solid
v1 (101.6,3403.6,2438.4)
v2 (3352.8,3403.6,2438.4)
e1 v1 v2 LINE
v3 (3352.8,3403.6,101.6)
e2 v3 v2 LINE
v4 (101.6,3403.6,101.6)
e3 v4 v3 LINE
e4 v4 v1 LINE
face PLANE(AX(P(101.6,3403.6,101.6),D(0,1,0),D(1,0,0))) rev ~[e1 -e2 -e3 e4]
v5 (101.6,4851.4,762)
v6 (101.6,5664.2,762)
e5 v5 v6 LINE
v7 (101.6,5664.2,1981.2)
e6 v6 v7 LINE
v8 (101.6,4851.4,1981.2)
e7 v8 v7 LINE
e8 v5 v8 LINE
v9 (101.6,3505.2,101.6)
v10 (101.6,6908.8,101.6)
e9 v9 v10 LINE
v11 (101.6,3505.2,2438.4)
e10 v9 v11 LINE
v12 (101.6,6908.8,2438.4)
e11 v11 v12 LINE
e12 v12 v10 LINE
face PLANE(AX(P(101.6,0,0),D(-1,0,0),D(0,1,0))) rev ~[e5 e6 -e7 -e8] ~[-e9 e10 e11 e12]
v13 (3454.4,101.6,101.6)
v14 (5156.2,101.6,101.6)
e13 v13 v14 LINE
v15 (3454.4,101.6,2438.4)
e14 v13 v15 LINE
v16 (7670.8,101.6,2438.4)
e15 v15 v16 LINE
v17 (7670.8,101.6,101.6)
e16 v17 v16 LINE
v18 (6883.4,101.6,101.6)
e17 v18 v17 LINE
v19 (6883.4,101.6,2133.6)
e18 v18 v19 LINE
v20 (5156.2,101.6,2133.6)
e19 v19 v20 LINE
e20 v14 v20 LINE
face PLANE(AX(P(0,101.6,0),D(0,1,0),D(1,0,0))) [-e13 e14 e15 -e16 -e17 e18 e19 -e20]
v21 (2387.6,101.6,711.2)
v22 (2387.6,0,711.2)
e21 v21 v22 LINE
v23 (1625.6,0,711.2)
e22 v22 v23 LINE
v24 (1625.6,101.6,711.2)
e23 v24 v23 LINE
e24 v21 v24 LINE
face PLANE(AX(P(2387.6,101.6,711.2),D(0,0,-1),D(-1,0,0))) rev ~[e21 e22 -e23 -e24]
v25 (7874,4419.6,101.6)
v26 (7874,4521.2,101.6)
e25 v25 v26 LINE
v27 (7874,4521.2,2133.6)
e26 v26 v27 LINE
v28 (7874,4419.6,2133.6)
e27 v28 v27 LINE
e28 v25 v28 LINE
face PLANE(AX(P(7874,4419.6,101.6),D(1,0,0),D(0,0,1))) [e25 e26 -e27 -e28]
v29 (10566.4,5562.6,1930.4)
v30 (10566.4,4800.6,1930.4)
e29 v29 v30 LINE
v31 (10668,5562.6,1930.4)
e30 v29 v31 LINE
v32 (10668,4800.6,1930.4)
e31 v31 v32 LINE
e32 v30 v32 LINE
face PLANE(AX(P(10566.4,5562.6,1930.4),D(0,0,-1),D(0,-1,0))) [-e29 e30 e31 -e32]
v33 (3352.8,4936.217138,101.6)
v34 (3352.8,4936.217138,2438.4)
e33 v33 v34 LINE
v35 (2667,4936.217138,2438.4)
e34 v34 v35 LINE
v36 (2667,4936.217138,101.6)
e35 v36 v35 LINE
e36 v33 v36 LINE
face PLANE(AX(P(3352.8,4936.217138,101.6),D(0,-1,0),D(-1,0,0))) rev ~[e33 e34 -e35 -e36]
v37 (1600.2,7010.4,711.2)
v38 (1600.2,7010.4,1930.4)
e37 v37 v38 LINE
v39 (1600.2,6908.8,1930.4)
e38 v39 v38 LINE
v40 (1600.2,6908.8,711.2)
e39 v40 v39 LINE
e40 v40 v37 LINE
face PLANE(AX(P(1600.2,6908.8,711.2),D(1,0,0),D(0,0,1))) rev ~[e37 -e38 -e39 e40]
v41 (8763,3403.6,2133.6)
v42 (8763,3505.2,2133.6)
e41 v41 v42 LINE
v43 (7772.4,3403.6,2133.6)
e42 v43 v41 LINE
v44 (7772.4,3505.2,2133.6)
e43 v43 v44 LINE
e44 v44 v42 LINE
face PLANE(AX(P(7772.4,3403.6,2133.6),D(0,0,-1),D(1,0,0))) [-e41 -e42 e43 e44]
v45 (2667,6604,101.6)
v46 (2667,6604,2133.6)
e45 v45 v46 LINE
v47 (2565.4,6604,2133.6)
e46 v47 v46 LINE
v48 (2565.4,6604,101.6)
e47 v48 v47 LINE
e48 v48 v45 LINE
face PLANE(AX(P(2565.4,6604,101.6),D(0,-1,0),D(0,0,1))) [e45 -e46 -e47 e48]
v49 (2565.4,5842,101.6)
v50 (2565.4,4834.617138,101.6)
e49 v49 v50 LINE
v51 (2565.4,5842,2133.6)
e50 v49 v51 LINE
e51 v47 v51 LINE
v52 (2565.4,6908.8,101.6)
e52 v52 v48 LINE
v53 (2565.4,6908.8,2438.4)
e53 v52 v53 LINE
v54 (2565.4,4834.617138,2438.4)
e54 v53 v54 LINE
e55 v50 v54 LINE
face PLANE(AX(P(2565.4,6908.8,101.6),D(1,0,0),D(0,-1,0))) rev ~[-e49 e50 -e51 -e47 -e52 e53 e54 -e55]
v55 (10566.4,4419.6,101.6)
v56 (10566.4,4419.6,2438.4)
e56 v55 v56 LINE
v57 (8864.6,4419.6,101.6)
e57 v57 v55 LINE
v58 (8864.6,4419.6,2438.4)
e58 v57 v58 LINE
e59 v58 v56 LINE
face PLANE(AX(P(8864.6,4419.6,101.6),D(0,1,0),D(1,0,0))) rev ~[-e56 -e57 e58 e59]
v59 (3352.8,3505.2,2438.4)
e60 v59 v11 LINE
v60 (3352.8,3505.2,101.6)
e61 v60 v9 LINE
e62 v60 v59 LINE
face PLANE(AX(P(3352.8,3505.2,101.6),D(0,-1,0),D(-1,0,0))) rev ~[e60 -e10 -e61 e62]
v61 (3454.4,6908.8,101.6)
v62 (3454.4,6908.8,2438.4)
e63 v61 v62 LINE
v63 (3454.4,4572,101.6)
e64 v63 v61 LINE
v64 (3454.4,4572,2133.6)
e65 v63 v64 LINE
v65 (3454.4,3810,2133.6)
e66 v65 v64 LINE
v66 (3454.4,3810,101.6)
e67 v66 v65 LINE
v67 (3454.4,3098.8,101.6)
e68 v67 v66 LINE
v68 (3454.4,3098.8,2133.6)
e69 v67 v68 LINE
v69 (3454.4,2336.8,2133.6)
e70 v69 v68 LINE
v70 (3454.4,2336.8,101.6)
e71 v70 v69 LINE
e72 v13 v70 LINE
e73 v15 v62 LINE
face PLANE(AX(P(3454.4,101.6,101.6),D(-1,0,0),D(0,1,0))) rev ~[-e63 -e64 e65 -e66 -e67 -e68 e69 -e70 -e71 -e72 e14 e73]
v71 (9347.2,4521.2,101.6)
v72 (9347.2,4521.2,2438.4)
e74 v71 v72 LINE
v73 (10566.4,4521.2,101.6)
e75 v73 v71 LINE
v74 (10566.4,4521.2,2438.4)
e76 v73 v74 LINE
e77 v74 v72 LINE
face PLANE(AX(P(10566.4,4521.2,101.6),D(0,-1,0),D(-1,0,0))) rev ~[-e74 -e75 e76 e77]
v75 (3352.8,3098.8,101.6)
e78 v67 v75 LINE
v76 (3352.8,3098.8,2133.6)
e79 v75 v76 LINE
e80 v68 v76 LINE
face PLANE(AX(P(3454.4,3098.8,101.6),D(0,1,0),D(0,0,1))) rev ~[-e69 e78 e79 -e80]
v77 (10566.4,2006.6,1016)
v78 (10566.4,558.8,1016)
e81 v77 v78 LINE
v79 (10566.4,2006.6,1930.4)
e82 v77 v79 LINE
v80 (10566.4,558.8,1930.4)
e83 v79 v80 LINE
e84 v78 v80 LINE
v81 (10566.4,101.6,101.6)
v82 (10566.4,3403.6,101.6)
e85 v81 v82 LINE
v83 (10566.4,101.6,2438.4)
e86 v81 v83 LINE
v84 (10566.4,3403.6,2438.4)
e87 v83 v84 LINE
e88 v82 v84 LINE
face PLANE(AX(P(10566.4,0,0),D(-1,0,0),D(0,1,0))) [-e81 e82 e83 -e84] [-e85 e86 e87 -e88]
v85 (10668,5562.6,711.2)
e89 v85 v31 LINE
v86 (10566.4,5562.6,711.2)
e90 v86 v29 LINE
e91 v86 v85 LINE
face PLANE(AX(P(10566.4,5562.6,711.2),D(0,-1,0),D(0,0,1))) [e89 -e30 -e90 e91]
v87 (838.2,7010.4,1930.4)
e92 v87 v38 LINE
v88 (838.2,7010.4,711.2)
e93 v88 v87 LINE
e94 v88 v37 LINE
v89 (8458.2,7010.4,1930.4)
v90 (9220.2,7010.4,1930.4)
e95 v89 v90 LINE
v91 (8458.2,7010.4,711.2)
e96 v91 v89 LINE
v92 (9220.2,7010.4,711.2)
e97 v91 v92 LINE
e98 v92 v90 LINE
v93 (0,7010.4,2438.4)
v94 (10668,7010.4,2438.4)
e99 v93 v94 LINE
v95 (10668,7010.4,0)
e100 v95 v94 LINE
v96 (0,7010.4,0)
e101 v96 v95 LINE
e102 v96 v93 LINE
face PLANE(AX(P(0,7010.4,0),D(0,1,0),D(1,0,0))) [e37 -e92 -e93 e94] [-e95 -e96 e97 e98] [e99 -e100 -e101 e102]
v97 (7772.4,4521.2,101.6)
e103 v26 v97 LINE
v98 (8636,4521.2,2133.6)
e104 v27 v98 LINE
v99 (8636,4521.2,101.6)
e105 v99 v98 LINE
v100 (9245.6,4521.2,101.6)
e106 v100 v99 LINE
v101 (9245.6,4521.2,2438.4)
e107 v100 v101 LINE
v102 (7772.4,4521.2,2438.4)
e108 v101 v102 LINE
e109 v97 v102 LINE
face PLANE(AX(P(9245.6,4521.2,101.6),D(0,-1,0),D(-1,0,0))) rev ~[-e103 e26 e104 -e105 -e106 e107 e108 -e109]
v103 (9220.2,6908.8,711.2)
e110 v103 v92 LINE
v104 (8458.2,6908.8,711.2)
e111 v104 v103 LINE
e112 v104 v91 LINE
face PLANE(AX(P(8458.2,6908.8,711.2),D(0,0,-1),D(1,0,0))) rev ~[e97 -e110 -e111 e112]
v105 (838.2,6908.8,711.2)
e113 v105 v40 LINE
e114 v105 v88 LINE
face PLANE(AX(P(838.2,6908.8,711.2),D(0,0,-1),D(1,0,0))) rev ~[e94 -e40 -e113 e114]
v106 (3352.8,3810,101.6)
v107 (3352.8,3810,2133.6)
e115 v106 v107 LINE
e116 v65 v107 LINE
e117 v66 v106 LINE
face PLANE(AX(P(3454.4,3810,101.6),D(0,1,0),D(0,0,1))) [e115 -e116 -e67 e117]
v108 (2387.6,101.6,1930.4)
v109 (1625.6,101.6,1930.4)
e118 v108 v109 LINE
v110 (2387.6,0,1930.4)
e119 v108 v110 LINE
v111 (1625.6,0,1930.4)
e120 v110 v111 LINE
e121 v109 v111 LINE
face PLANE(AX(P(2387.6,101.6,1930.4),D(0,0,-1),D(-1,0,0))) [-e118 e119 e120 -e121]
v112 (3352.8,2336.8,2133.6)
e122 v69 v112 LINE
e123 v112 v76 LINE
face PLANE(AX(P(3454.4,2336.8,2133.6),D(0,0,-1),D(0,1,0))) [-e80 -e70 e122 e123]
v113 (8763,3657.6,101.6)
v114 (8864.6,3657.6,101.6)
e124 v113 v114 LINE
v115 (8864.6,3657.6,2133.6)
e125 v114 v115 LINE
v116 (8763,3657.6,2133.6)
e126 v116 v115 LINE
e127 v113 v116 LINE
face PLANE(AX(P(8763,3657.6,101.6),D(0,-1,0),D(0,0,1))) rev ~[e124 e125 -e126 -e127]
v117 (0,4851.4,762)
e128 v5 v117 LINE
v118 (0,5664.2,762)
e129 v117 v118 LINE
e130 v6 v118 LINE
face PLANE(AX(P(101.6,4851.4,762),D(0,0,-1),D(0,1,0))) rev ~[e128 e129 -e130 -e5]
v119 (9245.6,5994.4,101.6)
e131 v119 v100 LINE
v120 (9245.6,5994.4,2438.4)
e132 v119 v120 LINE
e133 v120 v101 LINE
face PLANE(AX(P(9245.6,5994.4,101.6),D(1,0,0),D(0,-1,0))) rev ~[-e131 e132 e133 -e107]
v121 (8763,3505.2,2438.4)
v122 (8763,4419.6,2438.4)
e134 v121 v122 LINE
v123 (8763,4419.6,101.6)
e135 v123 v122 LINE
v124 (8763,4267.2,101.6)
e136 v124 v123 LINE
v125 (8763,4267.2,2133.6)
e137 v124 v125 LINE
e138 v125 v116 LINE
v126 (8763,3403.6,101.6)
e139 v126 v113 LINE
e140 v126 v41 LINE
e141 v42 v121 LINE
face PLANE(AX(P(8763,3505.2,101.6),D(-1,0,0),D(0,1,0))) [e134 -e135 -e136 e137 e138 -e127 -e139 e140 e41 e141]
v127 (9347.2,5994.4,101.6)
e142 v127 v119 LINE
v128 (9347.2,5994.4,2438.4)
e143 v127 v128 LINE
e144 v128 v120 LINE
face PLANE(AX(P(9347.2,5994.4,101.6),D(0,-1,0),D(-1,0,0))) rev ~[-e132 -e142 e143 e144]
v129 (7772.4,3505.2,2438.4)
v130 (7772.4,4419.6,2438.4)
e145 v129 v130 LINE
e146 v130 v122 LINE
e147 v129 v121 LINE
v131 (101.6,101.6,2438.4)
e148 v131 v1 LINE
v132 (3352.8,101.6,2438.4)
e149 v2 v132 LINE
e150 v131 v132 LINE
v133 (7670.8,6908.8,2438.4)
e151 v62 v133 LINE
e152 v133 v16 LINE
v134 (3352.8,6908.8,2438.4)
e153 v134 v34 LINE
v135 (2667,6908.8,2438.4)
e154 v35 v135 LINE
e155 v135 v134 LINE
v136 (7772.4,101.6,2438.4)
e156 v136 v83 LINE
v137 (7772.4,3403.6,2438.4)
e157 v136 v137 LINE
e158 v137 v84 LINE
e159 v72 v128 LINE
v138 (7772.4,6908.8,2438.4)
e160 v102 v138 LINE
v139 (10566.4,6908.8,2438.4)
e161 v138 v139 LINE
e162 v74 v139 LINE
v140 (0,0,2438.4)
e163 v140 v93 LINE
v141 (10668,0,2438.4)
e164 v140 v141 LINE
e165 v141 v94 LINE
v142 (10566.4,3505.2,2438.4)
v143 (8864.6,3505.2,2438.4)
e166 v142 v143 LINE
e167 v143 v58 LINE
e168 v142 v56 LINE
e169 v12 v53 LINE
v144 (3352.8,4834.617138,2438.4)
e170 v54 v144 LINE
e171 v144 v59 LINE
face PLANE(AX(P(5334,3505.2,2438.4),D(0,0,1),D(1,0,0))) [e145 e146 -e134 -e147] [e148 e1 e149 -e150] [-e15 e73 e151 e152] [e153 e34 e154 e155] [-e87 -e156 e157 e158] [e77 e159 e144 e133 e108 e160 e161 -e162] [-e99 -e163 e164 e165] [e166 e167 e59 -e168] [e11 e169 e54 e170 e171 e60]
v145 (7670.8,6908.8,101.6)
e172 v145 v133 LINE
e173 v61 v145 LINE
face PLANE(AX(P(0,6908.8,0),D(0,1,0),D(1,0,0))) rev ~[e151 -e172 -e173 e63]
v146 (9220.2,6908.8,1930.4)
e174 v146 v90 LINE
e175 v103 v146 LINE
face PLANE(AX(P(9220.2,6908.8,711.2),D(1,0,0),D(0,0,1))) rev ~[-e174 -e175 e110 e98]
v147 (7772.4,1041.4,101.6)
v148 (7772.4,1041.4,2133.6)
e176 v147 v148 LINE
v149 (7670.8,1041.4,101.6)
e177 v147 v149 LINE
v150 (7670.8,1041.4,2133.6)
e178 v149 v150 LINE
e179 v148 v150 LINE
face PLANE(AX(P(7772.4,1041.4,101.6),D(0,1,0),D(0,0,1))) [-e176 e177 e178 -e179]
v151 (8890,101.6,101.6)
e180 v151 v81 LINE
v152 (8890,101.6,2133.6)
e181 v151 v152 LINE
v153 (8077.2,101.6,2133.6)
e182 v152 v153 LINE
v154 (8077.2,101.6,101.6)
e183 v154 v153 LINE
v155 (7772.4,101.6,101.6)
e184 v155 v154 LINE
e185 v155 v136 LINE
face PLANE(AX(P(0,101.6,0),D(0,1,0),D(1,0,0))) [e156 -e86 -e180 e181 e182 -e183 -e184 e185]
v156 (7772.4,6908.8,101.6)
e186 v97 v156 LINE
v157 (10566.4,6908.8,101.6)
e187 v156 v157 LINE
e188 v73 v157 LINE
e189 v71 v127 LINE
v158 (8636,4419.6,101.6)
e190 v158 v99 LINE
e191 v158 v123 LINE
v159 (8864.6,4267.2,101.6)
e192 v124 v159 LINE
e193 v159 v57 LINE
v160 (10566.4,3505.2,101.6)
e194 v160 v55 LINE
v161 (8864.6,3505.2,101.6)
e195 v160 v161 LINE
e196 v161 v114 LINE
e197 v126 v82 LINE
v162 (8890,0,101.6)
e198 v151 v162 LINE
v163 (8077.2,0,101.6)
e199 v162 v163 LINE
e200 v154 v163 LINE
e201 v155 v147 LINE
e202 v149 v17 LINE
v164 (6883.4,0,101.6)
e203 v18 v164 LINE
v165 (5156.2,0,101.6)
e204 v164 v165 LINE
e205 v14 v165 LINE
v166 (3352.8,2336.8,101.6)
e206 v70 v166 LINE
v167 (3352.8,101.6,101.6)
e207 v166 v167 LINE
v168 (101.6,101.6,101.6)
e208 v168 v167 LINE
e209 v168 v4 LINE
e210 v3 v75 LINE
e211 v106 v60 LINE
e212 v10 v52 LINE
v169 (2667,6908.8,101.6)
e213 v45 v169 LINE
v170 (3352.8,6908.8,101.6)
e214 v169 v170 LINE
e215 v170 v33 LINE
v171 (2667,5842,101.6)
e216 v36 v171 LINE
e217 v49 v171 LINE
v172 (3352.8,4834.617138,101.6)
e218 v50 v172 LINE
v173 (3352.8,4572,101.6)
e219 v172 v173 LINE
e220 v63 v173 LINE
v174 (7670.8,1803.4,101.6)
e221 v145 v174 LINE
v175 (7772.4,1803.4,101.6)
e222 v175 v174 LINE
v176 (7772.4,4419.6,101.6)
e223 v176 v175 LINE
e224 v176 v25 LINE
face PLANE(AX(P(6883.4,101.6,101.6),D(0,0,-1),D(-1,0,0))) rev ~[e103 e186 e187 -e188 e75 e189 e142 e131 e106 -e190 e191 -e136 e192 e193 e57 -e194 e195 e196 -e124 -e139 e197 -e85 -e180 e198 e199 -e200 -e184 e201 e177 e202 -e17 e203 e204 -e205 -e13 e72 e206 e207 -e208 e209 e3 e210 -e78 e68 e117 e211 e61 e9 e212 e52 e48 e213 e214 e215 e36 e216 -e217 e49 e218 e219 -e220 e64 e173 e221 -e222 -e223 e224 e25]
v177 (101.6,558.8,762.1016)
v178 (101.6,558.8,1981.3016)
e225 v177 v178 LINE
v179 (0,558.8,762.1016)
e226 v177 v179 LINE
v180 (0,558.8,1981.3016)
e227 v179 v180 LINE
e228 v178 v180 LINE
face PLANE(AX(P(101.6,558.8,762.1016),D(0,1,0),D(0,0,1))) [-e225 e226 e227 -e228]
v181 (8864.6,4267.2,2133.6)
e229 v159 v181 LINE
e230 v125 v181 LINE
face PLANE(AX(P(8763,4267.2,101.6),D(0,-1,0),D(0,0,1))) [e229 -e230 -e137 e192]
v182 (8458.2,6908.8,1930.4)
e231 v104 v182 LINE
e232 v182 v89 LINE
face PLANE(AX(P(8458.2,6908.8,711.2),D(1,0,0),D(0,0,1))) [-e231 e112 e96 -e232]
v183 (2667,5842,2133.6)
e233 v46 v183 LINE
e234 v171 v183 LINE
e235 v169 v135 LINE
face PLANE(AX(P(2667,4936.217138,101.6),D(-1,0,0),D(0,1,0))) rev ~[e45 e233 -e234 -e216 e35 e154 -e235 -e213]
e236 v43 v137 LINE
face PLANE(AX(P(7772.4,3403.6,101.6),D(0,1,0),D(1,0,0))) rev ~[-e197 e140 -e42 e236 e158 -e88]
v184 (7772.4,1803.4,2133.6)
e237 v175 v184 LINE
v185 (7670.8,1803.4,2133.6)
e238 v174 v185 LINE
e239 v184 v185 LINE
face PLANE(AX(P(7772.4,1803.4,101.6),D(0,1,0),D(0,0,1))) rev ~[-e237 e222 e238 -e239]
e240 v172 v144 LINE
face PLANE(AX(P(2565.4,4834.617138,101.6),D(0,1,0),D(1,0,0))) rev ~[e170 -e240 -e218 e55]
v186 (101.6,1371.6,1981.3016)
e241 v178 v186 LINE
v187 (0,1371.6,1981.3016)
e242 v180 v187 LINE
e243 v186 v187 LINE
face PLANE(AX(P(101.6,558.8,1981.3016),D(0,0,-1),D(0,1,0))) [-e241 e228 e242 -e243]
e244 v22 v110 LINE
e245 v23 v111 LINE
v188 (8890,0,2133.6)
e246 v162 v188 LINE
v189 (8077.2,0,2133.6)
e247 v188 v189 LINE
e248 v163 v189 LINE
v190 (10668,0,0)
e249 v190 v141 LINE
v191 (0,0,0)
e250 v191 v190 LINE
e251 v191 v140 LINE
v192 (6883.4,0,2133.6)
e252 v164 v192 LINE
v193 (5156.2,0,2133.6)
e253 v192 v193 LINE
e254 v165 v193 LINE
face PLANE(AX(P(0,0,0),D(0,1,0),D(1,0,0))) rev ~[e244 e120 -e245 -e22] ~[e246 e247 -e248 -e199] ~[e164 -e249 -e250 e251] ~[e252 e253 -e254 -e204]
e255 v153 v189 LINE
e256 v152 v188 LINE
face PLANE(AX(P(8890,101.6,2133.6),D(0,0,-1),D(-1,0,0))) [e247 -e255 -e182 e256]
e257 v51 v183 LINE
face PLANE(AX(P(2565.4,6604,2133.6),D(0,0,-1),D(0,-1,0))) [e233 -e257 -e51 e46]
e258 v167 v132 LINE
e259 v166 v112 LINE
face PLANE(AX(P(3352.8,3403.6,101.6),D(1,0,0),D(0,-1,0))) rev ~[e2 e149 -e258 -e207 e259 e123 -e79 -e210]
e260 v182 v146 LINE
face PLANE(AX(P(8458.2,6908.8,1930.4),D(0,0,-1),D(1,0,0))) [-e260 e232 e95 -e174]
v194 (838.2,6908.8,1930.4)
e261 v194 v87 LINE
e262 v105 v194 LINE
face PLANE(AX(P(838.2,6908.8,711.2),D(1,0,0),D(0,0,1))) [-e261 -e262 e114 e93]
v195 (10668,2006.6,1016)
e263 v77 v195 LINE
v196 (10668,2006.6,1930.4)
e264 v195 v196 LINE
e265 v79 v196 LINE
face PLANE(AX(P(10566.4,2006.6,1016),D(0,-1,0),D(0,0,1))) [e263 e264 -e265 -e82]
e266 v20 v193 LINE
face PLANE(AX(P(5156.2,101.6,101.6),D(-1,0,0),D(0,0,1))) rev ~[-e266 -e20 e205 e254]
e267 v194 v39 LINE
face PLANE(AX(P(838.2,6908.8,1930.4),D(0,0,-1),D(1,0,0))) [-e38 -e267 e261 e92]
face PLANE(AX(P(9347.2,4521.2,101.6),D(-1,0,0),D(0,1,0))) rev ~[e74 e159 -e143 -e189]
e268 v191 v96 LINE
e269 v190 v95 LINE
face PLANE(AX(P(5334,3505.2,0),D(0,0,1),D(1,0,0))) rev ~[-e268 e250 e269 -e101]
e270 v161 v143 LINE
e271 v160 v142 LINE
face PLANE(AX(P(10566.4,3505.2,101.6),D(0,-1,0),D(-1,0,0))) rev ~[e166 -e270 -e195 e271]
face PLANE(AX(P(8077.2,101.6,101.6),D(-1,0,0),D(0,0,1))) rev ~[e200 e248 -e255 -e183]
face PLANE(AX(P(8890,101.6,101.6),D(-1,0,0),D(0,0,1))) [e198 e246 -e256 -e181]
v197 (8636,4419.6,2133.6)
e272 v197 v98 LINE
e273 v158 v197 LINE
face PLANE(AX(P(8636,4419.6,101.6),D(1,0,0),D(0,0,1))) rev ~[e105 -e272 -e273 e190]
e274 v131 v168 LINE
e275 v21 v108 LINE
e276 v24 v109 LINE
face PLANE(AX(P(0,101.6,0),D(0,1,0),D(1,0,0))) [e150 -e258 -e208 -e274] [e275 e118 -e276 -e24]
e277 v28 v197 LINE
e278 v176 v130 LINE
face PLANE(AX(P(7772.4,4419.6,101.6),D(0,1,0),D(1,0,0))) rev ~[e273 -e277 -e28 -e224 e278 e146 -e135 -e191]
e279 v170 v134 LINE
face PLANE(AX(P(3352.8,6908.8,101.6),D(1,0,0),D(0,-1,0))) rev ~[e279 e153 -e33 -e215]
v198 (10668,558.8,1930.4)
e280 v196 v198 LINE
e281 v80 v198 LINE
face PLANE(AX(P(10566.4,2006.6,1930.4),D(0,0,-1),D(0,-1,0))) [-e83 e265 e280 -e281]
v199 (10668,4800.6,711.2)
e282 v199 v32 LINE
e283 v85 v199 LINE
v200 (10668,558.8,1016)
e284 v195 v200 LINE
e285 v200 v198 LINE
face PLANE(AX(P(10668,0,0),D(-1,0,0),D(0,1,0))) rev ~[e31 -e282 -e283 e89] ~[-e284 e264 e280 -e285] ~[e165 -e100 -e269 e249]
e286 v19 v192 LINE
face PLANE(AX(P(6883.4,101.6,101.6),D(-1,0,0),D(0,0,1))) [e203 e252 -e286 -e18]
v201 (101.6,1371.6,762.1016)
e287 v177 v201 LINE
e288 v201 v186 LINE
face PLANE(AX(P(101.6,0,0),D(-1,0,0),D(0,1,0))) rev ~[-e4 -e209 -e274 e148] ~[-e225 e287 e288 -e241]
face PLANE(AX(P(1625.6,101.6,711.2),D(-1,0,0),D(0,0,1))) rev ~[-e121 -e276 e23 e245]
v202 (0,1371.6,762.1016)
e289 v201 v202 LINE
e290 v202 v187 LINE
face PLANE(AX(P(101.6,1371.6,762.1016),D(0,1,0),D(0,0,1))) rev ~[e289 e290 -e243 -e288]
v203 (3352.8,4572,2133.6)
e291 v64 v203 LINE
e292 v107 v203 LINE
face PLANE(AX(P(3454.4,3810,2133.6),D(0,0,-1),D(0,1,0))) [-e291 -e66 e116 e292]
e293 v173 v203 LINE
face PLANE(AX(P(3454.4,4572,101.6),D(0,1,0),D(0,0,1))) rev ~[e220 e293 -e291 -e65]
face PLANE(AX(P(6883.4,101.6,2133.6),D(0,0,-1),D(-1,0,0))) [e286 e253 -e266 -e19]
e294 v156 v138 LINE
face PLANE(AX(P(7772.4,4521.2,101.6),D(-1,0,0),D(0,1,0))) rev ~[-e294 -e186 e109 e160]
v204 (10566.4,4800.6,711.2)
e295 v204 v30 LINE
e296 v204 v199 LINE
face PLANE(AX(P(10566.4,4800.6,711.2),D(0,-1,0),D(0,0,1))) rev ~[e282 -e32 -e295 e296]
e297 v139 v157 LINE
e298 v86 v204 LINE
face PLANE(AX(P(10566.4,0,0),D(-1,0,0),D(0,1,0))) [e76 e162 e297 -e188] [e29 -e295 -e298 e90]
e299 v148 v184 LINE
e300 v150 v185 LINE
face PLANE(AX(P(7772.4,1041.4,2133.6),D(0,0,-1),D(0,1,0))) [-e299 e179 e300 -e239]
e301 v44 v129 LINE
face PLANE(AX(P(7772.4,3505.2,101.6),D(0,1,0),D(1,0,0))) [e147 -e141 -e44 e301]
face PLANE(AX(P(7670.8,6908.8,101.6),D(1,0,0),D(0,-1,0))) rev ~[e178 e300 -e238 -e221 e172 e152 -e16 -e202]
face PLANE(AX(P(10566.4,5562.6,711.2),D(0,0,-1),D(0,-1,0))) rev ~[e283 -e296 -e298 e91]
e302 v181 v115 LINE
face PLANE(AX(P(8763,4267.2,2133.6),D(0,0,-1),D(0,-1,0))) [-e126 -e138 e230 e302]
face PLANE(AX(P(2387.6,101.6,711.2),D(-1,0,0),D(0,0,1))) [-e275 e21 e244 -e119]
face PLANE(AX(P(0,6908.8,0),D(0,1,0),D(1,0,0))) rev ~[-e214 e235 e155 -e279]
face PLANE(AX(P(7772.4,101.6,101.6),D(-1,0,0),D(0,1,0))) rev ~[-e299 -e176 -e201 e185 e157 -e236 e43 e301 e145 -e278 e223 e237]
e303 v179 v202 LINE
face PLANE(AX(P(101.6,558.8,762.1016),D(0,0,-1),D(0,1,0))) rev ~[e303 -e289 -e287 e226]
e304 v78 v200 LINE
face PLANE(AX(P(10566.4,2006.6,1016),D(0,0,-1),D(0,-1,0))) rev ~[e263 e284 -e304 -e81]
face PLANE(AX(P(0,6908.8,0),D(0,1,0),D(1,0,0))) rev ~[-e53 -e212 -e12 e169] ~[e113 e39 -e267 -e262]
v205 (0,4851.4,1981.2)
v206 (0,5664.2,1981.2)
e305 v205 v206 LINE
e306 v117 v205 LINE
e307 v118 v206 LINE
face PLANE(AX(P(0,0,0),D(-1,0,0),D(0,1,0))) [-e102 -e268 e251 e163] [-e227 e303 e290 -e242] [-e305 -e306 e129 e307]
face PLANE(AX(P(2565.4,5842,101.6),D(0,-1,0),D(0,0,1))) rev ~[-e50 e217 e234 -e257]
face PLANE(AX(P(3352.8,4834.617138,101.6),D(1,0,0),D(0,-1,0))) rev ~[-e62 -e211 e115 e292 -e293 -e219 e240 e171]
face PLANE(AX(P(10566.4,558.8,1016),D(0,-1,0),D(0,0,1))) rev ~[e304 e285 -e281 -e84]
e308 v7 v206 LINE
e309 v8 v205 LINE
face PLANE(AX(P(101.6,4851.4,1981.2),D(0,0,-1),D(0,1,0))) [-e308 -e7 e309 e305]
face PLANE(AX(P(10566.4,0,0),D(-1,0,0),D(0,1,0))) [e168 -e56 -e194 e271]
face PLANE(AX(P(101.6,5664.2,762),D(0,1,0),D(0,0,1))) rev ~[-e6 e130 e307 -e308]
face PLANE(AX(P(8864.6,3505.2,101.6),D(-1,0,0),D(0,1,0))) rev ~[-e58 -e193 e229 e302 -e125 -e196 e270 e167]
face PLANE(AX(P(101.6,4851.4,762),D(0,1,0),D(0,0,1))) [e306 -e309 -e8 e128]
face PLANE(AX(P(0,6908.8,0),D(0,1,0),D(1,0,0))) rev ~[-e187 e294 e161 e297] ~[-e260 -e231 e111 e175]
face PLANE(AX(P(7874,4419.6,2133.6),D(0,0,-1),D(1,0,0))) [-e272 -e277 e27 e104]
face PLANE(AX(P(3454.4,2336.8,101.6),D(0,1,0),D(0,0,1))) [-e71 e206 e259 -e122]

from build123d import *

# Parameters (mm, degrees)
F32_W     = 10668
F32_H     = 7010.4
F0_DEPTH  = 2438.4
F33_T     = -101.6
F1_W      = 990.6
F1_H      = 914.4
F2_DEPTH  = 2336.8
F34_W     = 812.8
F34_H     = 2032
F35_DEPTH = 101.6
F3_W      = 812.8
F3_H      = 1219.2
F4_DEPTH  = 101.6
F5_W      = 762
F5_H      = 1219.2
F36_DEPTH = 101.6
F6_W      = 762
F6_H      = 2032
F7_DEPTH  = 101.6
F8_W      = 1447.8
F8_H      = 914.4
F9_DEPTH  = 101.6
F10_W     = 762
F10_H     = 1219.2
F11_DEPTH = 101.6
F12_W     = 762
F12_H     = 1219.2
F13_DEPTH = 101.6
F14_W     = 762
F14_H     = 1219.2
F15_DEPTH = 101.6
F16_W     = 1727.2
F16_H     = 2032
F17_DEPTH = 101.6
F18_W     = 762
F18_H     = 2032
F19_DEPTH = 101.6
F20_W     = 812.8
F20_H     = 1219.2
F21_DEPTH = 101.6
F22_W     = 762
F22_H     = 2032
F23_DEPTH = 101.6
F24_W     = 762
F24_H     = 2032
F25_DEPTH = 101.6
F26_W     = 609.6
F26_H     = 2032
F27_DEPTH = 101.6
F28_W     = 990.6
F28_H     = 2032
F29_DEPTH = 101.6
F30_W     = 762
F30_H     = 2032
F31_DEPTH = 101.6


with BuildPart() as f0:
    # F32 (on Top) → F0 (new body)
    with BuildSketch(Plane.XY):
        with Locations((5334, 3505.2)):
            Rectangle(F32_W, F32_H)
    extrude(amount=F0_DEPTH)

    # F33
    f33_openings = [f0.faces().sort_by_distance(p)[0] for p in [
        (5334, 3505.2, 2438.4),
    ]]
    offset(amount=F33_T, openings=f33_openings)

    # F1 (on face) → F2 (join, through all)
    with BuildSketch(Plane.XY.offset(101.6)):
        Polygon((3352.8, 101.6), (3454.4, 101.6), (3454.4, 6908.8), (3352.8, 6908.8), (3352.8, 4936.2171379089), (3352.8, 4834.6171379089), (3352.8, 3505.2), (2667, 3505.2), (2565.4, 3505.2), (101.6, 3505.2), (101.6, 3403.6), (3352.8, 3403.6), align=None)
        Polygon((7772.4, 3403.6), (10566.4, 3403.6), (10566.4, 3505.2), (8864.6, 3505.2), (8864.6, 4419.6), (10566.4, 4419.6), (10566.4, 4521.2), (9347.2, 4521.2), (9347.2, 5994.4), (9245.6, 5994.4), (9245.6, 4521.2), (7772.4, 4521.2), (7772.4, 6908.8), (7670.8, 6908.8), (7670.8, 101.6), (7772.4, 101.6), align=None)
        with Locations((8267.7, 3962.4)):
            Rectangle(F1_W, F1_H, mode=Mode.SUBTRACT)
        Polygon((3352.8, 4834.6171379089), (3352.8, 4936.2171379089), (2667, 4936.2171379089), (2667, 6908.8), (2565.4, 6908.8), (2565.4, 4834.6171379089), align=None)
    extrude(amount=F2_DEPTH)

    # F34 (on face) → F35 (cut, through all)
    with BuildSketch(Plane(origin=(0, 101.6, 0), x_dir=(-1, 0, 0), z_dir=(0, 1, 0))):
        with Locations((-8483.6, 1117.6)):
            Rectangle(F34_W, F34_H)
    extrude(amount=-F35_DEPTH, mode=Mode.SUBTRACT)

    # F3 (on face) → F4 (cut, through all)
    with BuildSketch(Plane.YZ.offset(101.6)):
        with Locations((5257.8, 1371.6)):
            Rectangle(F3_W, F3_H)
    extrude(amount=-F4_DEPTH, mode=Mode.SUBTRACT)

    # F5 (on face) → F36 (cut, through all)
    with BuildSketch(Plane.XZ.offset(-6908.8)):
        with Locations((1219.2, 1320.8)):
            Rectangle(F5_W, F5_H)
    extrude(amount=-F36_DEPTH, mode=Mode.SUBTRACT)

    # F6 (on face) → F7 (cut, through all)
    with BuildSketch(Plane.YZ.offset(7772.4)):
        with Locations((1422.4, 1117.6)):
            Rectangle(F6_W, F6_H)
    extrude(amount=-F7_DEPTH, mode=Mode.SUBTRACT)

    # F8 (on face) → F9 (cut, through all)
    with BuildSketch(Plane(origin=(10566.4, 0, 0), x_dir=(0, -1, 0), z_dir=(-1, 0, 0))):
        with Locations((-1282.7, 1473.2)):
            Rectangle(F8_W, F8_H)
    extrude(amount=-F9_DEPTH, mode=Mode.SUBTRACT)

    # F10 (on face) → F11 (cut, through all)
    with BuildSketch(Plane.XZ.offset(-6908.8)):
        with Locations((8839.2, 1320.8)):
            Rectangle(F10_W, F10_H)
    extrude(amount=-F11_DEPTH, mode=Mode.SUBTRACT)

    # F12 (on face) → F13 (cut, through all)
    with BuildSketch(Plane(origin=(10566.4, 0, 0), x_dir=(0, -1, 0), z_dir=(-1, 0, 0))):
        with Locations((-5181.6, 1320.8)):
            Rectangle(F12_W, F12_H)
    extrude(amount=-F13_DEPTH, mode=Mode.SUBTRACT)

    # F14 (on face) → F15 (cut, through all)
    with BuildSketch(Plane(origin=(0, 101.6, 0), x_dir=(-1, 0, 0), z_dir=(0, 1, 0))):
        with Locations((-2006.6, 1320.8)):
            Rectangle(F14_W, F14_H)
    extrude(amount=-F15_DEPTH, mode=Mode.SUBTRACT)

    # F16 (on face) → F17 (cut, through all)
    with BuildSketch(Plane(origin=(0, 101.6, 0), x_dir=(-1, 0, 0), z_dir=(0, 1, 0))):
        with Locations((-6019.8, 1117.6)):
            Rectangle(F16_W, F16_H)
    extrude(amount=-F17_DEPTH, mode=Mode.SUBTRACT)

    # F18 (on face) → F19 (cut, through all)
    with BuildSketch(Plane(origin=(2565.4, 0, 0), x_dir=(0, -1, 0), z_dir=(-1, 0, 0))):
        with Locations((-6223, 1117.6)):
            Rectangle(F18_W, F18_H)
    extrude(amount=-F19_DEPTH, mode=Mode.SUBTRACT)

    # F20 (on face) → F21 (cut, through all)
    with BuildSketch(Plane.YZ.offset(101.6)):
        with Locations((965.2, 1371.7016)):
            Rectangle(F20_W, F20_H)
    extrude(amount=-F21_DEPTH, mode=Mode.SUBTRACT)

    # F22 (on face) → F23 (cut, through all)
    with BuildSketch(Plane.YZ.offset(3454.4)):
        with Locations((2717.8, 1117.6)):
            Rectangle(F22_W, F22_H)
    extrude(amount=-F23_DEPTH, mode=Mode.SUBTRACT)

    # F24 (on face) → F25 (cut, through all)
    with BuildSketch(Plane.YZ.offset(3454.4)):
        with Locations((4191, 1117.6)):
            Rectangle(F24_W, F24_H)
    extrude(amount=-F25_DEPTH, mode=Mode.SUBTRACT)

    # F26 (on face) → F27 (cut, through all)
    with BuildSketch(Plane(origin=(8763, 0, 0), x_dir=(0, -1, 0), z_dir=(-1, 0, 0))):
        with Locations((-3962.4, 1117.6)):
            Rectangle(F26_W, F26_H)
    extrude(amount=-F27_DEPTH, mode=Mode.SUBTRACT)

    # F28 (on face) → F29 (cut, through all)
    with BuildSketch(Plane.XZ.offset(-3403.6)):
        with Locations((8267.7, 1117.6)):
            Rectangle(F28_W, F28_H)
    extrude(amount=-F29_DEPTH, mode=Mode.SUBTRACT)

    # F30 (on face) → F31 (cut, through all)
    with BuildSketch(Plane.XZ.offset(-4419.6)):
        with Locations((8255, 1117.6)):
            Rectangle(F30_W, F30_H)
    extrude(amount=-F31_DEPTH, mode=Mode.SUBTRACT)


solid = f0.part
